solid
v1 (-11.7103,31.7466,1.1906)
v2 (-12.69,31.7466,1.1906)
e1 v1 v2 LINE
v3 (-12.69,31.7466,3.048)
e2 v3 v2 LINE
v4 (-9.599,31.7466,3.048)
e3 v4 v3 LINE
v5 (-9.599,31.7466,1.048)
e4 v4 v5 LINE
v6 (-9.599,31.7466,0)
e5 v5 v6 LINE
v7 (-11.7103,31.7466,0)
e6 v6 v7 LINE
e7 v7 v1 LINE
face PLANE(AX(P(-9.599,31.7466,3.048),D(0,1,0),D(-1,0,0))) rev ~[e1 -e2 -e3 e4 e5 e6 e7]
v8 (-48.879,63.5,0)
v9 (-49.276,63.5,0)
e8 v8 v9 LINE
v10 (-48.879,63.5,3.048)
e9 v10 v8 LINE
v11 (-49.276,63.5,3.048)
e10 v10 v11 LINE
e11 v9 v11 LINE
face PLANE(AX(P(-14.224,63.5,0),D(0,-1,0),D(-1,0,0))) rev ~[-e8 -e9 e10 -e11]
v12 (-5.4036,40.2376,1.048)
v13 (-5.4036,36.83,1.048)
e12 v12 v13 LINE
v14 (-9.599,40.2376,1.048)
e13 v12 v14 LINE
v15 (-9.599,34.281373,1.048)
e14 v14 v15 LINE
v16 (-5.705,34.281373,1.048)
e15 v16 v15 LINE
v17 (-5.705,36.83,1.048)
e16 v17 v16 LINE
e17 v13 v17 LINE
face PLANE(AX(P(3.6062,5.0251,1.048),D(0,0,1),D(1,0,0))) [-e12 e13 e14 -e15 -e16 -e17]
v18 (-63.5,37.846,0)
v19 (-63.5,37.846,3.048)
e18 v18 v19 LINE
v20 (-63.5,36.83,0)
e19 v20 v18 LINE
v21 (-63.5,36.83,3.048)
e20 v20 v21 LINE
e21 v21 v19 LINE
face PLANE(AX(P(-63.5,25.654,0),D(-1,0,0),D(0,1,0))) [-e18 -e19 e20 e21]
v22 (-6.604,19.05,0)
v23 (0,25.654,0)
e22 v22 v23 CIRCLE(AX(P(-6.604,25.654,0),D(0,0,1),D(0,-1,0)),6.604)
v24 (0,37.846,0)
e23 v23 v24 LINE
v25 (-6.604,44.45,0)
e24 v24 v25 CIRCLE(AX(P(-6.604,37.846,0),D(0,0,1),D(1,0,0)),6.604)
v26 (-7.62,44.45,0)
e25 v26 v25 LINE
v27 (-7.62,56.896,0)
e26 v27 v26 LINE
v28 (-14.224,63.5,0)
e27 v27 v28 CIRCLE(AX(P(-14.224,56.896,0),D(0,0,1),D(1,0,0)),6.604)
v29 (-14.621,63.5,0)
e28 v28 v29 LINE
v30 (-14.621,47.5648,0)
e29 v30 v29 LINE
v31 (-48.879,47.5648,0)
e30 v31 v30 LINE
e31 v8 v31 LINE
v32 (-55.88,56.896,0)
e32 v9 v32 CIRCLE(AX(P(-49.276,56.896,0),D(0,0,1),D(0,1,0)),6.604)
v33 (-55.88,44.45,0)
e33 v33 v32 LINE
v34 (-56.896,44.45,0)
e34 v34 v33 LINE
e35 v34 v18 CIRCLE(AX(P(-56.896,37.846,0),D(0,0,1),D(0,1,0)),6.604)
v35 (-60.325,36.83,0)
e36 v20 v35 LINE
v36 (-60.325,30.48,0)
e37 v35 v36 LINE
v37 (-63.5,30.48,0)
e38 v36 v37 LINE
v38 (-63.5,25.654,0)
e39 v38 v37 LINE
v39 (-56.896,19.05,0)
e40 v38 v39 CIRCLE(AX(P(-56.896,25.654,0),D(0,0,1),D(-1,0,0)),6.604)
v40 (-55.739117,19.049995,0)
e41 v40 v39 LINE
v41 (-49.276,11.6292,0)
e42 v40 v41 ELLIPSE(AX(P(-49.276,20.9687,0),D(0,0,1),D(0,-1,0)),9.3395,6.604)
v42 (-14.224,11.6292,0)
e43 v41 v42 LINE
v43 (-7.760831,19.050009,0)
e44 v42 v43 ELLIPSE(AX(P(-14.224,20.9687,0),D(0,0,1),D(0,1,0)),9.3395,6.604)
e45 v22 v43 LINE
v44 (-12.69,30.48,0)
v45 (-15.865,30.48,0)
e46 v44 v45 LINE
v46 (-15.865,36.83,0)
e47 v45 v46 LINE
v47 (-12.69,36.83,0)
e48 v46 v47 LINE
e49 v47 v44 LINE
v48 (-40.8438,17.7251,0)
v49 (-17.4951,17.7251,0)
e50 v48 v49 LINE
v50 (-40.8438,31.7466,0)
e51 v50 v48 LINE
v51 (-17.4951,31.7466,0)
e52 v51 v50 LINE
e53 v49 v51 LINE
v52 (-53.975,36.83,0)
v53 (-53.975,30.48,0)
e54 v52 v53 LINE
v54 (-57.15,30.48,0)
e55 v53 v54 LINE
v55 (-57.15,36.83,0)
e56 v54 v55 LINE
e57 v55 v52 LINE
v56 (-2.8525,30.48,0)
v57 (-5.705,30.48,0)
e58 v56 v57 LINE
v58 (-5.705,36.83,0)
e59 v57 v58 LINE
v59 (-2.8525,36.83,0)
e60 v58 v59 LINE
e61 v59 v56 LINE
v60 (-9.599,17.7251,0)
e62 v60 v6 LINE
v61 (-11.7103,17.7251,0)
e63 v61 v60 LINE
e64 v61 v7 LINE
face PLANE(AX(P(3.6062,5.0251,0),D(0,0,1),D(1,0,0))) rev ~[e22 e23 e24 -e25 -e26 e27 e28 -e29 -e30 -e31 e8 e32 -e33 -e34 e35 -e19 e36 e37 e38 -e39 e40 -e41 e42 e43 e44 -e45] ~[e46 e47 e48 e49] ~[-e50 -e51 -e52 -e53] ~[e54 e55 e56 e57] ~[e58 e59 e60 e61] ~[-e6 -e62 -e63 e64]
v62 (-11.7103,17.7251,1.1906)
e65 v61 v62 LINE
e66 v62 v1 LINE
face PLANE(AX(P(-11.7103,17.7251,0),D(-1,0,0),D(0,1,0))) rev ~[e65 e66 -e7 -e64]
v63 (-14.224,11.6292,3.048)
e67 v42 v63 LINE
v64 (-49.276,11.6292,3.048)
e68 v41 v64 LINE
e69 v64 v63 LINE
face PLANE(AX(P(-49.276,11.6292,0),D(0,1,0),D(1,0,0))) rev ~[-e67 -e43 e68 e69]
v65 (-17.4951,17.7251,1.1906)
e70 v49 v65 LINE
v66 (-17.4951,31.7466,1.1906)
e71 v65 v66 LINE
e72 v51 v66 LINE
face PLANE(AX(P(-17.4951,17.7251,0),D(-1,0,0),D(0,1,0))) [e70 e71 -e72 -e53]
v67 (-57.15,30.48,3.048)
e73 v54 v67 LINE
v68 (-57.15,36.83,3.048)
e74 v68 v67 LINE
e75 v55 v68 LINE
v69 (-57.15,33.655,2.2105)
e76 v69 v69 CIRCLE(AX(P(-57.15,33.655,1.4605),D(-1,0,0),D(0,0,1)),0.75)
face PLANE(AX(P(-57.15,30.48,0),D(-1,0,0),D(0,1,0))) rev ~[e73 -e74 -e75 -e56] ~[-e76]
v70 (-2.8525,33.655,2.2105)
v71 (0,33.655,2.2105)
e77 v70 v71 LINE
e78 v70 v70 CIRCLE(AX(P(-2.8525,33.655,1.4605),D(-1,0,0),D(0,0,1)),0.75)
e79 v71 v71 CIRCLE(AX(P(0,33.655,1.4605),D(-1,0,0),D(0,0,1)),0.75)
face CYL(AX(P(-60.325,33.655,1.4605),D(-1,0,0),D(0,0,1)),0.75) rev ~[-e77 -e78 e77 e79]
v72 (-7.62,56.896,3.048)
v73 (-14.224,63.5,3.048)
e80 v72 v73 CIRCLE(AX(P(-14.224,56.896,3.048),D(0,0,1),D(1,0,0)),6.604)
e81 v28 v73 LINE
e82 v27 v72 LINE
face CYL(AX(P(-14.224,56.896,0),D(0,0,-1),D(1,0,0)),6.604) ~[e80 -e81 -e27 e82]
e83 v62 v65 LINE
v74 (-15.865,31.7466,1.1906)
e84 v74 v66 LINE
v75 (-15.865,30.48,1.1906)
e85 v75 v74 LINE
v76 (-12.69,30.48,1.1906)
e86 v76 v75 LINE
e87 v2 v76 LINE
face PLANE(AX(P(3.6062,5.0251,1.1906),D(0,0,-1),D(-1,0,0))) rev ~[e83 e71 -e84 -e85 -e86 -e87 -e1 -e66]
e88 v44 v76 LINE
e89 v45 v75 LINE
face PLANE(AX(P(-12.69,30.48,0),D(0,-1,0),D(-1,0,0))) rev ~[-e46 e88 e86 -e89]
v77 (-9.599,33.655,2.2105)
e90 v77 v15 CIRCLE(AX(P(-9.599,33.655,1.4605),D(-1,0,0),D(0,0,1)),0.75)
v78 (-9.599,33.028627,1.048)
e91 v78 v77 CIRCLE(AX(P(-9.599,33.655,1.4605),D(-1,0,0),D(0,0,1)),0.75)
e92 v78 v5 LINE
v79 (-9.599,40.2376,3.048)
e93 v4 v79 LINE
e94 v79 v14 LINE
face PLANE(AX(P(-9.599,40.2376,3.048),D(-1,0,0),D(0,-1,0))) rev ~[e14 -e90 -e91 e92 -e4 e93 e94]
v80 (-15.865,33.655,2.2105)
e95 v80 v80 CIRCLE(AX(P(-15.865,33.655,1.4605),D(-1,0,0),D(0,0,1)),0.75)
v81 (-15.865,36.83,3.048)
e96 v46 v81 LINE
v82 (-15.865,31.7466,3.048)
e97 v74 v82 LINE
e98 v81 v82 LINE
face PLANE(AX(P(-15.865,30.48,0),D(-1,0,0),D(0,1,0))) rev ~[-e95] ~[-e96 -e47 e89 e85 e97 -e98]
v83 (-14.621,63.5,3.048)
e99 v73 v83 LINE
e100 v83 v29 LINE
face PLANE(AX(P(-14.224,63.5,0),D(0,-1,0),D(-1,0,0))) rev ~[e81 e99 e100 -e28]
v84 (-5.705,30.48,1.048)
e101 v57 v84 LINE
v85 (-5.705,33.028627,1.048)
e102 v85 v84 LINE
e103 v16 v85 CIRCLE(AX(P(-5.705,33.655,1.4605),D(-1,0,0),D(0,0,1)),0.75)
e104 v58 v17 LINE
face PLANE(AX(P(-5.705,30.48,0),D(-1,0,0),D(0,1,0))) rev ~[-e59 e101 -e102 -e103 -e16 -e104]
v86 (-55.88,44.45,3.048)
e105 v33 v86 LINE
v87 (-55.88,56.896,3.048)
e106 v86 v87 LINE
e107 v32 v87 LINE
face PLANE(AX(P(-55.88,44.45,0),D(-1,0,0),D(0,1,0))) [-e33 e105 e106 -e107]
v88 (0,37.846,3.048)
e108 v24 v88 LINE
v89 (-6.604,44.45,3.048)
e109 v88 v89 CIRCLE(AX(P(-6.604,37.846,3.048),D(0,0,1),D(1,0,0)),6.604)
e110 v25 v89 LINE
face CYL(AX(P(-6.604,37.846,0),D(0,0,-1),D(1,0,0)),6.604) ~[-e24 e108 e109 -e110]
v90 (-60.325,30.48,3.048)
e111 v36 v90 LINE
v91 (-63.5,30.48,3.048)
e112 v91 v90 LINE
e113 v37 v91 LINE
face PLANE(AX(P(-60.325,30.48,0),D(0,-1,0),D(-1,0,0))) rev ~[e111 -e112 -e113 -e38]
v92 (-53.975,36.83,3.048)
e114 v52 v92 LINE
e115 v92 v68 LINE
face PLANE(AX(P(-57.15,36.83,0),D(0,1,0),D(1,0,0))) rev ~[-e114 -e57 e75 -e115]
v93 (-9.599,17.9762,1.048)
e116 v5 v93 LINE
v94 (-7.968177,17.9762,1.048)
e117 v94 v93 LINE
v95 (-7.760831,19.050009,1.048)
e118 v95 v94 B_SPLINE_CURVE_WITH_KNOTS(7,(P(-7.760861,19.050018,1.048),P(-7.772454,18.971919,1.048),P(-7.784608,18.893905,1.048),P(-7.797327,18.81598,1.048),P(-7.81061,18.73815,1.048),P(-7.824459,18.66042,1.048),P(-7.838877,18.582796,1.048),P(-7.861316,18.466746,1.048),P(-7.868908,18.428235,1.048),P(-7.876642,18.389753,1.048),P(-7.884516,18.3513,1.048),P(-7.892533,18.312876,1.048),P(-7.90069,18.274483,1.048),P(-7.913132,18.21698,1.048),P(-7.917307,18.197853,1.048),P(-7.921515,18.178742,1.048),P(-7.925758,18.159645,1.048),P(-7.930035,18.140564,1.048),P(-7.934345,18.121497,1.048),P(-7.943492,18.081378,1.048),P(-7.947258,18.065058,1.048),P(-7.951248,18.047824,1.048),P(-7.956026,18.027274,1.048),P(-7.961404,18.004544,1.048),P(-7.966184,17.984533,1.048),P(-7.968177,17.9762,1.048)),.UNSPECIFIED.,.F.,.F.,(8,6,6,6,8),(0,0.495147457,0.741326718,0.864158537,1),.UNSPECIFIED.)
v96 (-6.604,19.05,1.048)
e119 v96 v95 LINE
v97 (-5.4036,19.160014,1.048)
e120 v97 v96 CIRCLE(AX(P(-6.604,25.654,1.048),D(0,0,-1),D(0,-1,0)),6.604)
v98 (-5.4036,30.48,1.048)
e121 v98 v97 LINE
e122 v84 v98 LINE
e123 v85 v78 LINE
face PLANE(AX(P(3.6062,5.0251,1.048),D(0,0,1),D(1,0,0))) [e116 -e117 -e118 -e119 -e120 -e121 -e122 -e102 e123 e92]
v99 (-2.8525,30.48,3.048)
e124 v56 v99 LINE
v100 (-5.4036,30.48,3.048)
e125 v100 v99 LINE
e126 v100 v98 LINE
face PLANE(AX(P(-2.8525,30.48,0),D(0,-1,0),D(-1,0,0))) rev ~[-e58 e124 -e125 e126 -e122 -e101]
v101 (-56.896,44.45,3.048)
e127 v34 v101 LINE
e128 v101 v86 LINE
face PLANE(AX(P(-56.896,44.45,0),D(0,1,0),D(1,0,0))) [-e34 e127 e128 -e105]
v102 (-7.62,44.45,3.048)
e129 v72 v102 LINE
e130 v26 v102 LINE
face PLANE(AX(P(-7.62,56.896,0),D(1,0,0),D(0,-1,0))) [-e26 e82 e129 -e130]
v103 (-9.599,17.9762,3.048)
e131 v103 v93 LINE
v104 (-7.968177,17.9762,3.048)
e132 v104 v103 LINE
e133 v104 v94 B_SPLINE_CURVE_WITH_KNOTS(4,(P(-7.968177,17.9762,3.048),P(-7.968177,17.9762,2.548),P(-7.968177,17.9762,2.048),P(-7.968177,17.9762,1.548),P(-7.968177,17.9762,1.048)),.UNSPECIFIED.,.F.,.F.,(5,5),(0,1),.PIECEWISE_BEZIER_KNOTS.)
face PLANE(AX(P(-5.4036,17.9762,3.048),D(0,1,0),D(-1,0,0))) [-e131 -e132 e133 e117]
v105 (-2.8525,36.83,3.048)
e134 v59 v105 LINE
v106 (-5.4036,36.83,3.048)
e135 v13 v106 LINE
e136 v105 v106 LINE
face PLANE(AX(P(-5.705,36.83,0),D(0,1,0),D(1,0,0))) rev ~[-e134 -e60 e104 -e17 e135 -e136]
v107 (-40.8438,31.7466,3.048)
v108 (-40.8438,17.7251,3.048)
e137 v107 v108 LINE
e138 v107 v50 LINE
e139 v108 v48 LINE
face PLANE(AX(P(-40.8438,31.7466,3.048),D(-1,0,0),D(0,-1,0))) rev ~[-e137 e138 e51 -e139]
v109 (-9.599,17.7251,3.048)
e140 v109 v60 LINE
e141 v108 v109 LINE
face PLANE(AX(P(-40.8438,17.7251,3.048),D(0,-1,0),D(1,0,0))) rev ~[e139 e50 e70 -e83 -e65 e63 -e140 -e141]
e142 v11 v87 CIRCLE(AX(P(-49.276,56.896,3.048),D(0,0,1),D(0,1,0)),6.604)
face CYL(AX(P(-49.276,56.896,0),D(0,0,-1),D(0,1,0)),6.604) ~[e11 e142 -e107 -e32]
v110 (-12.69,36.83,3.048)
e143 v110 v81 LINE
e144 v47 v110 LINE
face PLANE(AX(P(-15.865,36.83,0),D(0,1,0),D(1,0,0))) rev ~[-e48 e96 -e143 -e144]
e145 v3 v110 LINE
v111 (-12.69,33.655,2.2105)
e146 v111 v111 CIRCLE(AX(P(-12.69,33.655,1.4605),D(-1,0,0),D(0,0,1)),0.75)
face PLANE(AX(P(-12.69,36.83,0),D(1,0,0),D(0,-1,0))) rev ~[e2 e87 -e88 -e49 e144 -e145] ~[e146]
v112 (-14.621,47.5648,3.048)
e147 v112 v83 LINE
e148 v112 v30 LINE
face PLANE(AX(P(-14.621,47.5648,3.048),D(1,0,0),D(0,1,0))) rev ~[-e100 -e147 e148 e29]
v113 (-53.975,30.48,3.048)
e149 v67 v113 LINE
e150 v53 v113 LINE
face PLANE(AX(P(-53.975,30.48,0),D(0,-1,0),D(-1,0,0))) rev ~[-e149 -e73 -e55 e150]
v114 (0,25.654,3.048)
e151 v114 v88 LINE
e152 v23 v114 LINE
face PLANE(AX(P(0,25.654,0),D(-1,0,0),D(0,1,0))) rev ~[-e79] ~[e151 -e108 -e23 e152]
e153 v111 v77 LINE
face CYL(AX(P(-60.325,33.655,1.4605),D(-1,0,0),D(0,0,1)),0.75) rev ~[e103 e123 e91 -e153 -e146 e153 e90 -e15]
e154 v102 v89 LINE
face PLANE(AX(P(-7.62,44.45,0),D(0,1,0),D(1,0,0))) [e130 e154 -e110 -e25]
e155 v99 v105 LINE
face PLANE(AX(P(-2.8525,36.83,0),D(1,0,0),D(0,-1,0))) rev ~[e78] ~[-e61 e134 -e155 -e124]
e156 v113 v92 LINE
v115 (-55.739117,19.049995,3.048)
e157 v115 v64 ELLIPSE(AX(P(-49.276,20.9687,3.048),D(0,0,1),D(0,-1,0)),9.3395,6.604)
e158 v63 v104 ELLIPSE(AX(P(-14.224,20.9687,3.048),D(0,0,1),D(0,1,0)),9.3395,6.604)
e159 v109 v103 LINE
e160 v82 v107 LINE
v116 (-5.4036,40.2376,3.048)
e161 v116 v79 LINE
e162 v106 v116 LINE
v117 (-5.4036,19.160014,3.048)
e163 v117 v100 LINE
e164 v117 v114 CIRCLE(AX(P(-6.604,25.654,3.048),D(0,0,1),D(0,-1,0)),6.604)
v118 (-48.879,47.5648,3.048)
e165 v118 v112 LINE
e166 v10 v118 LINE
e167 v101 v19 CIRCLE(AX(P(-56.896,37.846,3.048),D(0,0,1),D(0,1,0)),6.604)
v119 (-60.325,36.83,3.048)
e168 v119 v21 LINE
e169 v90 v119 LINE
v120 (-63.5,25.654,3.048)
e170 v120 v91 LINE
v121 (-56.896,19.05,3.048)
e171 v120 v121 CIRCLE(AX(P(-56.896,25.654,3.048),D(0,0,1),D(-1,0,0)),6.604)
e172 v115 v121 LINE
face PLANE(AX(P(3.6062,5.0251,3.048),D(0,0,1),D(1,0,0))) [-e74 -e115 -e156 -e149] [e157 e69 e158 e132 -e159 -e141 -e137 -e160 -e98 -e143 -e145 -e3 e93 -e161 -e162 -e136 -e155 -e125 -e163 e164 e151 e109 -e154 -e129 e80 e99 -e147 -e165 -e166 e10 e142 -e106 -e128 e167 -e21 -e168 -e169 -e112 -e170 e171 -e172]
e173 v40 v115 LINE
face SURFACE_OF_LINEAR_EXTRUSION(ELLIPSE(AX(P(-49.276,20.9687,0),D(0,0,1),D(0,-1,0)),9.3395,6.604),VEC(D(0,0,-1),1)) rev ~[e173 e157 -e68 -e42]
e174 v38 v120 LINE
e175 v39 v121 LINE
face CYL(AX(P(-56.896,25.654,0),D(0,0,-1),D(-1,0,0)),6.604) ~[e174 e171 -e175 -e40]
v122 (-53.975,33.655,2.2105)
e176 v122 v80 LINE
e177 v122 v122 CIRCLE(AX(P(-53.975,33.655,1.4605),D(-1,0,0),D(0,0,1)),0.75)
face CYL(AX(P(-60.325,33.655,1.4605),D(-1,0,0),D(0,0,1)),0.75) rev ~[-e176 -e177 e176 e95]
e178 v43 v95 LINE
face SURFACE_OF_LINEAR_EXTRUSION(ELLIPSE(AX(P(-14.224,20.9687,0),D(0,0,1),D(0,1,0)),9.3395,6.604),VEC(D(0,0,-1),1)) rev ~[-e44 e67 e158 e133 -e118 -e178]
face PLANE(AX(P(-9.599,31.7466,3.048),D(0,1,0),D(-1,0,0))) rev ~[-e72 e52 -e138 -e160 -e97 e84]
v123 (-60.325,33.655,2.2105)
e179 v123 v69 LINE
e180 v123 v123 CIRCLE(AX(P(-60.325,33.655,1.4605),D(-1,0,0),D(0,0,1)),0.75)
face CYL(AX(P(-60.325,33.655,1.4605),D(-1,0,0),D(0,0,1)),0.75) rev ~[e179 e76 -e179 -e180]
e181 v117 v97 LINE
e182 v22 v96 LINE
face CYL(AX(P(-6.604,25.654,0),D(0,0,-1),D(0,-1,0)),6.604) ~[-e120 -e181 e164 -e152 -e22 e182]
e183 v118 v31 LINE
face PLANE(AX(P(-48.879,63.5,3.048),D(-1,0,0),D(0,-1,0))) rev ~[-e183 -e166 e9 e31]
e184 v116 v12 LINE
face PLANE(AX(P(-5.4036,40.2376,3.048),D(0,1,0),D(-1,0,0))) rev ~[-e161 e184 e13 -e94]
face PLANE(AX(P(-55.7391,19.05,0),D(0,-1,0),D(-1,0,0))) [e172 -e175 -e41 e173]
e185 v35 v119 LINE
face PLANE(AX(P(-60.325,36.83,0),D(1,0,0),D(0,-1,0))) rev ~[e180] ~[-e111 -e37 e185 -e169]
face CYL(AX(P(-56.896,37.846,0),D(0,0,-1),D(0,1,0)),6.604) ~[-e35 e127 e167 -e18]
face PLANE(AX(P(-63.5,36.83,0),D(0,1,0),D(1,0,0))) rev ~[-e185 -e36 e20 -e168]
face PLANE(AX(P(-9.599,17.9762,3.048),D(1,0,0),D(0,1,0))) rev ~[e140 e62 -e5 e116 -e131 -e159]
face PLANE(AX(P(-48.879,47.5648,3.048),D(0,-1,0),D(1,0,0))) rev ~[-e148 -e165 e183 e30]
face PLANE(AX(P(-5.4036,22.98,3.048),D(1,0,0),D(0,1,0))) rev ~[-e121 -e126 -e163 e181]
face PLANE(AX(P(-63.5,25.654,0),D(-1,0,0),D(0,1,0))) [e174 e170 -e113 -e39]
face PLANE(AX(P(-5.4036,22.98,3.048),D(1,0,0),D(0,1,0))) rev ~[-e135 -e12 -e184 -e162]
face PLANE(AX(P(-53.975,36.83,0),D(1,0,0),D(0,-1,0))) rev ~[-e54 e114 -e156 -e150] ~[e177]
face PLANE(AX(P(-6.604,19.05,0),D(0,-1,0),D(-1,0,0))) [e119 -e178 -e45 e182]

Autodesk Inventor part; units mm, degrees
ref_plane "YZ Plane" through (0, 0, 0) normal (1, 0, 0) x (0, 1, 0)
ref_plane "XZ Plane" through (0, 0, 0) normal (0, 1, 0) x (-1, 0, 0)
ref_plane "XY Plane" through (0, 0, 0) normal (0, 0, 1) x (1, 0, 0)
ref_plane "Work Plane1" through (3.6062, 5.0251, 0) normal (0, 0, 1) x (1, 0, 0)
sketch "Sketch1" plane through (3.6062, 5.0251, 0) normal (0, 0, 1) x (1, 0, 0)
  line L0 (-59.3453, 14.0249) -> (-60.5022, 14.0249)
  ellipse E0 centre (-52.8822, 15.9436) end of major axis (-52.8822, 6.6041) minor radius 6.604 (-59.3453, 14.0249) -> (-52.8822, 6.6041) ccw
  line L1 (-52.8822, 6.6041) -> (-17.8302, 6.6041)
  ellipse E1 centre (-17.8302, 15.9436) end of major axis (-17.8302, 25.2831) minor radius 6.604 (-17.8302, 6.6041) -> (-11.367, 14.0249) ccw
  line L2 (-10.2102, 14.0249) -> (-11.367, 14.0249)
  arc A0 (-10.2102, 14.0249) -> (-3.6062, 20.6289) centre (-10.2102, 20.6289) ccw
  line L3 (-3.6062, 20.6289) -> (-3.6062, 32.8209)
  arc A1 (-3.6062, 32.8209) -> (-10.2102, 39.4249) centre (-10.2102, 32.8209) ccw
  line L4 (-11.2262, 39.4249) -> (-10.2102, 39.4249)
  line L5 (-11.2262, 51.8709) -> (-11.2262, 39.4249)
  arc A2 (-11.2262, 51.8709) -> (-17.8302, 58.4749) centre (-17.8302, 51.8709) ccw
  line L6 (-17.8302, 58.4749) -> (-52.8822, 58.4749)
  arc A3 (-52.8822, 58.4749) -> (-59.4862, 51.8709) centre (-52.8822, 51.8709) ccw
  line L7 (-59.4862, 39.4249) -> (-59.4862, 51.8709)
  line L8 (-60.5022, 39.4249) -> (-59.4862, 39.4249)
  arc A4 (-60.5022, 39.4249) -> (-67.1062, 32.8209) centre (-60.5022, 32.8209) ccw
  line L9 (-67.1062, 20.6289) -> (-67.1062, 32.8209)
  arc A5 (-67.1062, 20.6289) -> (-60.5022, 14.0249) centre (-60.5022, 20.6289) ccw
  line L10 (-52.8822, 6.6041) -> (-17.8302, 6.6041)
  point P0 (-3.6062, -5.0251)
extrude "Plate1" add sketch "Sketch1" along normal blind 3.048
sketch "Sketch2" plane through (3.6062, 5.0251, 3.048) normal (0, 0, 1) x (1, 0, 0)
  line L0 (-19.2272, 69.2699) -> (-19.2272, 51.2359) projected
  line L1 (-42.2142, 43.5397) -> (-28.4982, 43.5397) projected
  line L2 (-51.4852, 51.2359) -> (-51.4852, 69.2699) projected
  line L3 (-19.2272, 58.5208) -> (-19.2272, 43.5397)
  line L4 (-19.2272, 43.5397) -> (-51.4852, 43.5397)
  line L5 (-51.4852, 43.5397) -> (-51.4852, 64.3147)
  line L6 (-52.4852, 58.4749) -> (-52.4852, 42.5397)
  line L7 (-52.4852, 42.5397) -> (-18.2272, 42.5397)
  line L8 (-18.2272, 42.5397) -> (-18.2272, 58.5208)
  line L9 (-52.8822, 58.4749) -> (-17.8302, 58.4749) projected
  point P0 (0, 0)
  point P1 (-18.2272, 58.4749)
  dimension "d2" = 1
extrude "Extrusion2" cut sketch "Sketch2" against normal through all
sketch "Sketch4" plane through (3.6062, 5.0251, 3.048) normal (0, 0, 1) x (1, 0, 0)
  line L0 (-12.8862, 21.4549) -> (-12.8862, 17.4549) projected
  line L1 (-9.0098, 35.2125) -> (-13.2052, 35.2125)
  line L2 (-13.2052, 35.2125) -> (-13.2052, 18.2304)
  line L3 (-13.2052, 18.2304) -> (-12.8862, 18.2304)
  line L4 (-9.0098, 16.8588) -> (-9.0098, 35.2125)
  line L5 (-9.0098, 35.2125) -> (-13.2052, 18.2304) construction
  line L6 (-13.2052, 35.2125) -> (-9.0098, 16.8588) construction
  line L7 (-12.8862, 21.4549) -> (-12.8862, 17.4549) projected
  line L8 (-3.6062, 30.2174) -> (-8.2582, 30.2174)
  line L9 (-12.8862, 17.9549) -> (-3.6562, 17.9549)
  line L10 (-12.8862, 21.4549) -> (-12.8862, 17.4549) projected
  line L11 (-13.2052, 18.2304) -> (-12.8862, 18.2304)
  line L12 (-9.0098, 16.8588) -> (-9.0098, 12.9511)
  line L13 (-9.0098, 12.9511) -> (-13.2052, 12.9511)
  line L14 (-13.2052, 12.9511) -> (-13.2052, 18.2304)
  point P0 (-3.6062, -5.0251)
  point P1 (-11.1889, 26.3919)
  point P2 (-11.1075, 26.7215)
  dimension "d18" = 4.1954
  dimension "d23" = 4.9951
  dimension "d24" = 0.3191
  dimension "d25" = 5.0038
extrude "Extrusion3" cut sketch "Sketch4" against normal blind 2
sketch "Sketch5" plane through (3.6062, 5.0251, 3.048) normal (0, 0, 1) x (1, 0, 0)
  line L0 (-52.4852, 42.5397) -> (-52.4852, 58.4749) projected
  line L1 (-52.8822, 58.4749) -> (-52.4852, 58.4749) projected
  arc A0 (-52.8822, 58.4749) -> (-59.4862, 51.8709) centre (-52.8822, 51.8709) ccw projected
  line L2 (-59.4862, 39.4249) -> (-59.4862, 51.8709) projected
  line L3 (-60.5022, 39.4249) -> (-59.4862, 39.4249) projected
  arc A1 (-60.5022, 39.4249) -> (-67.1062, 32.8209) centre (-60.5022, 32.8209) ccw projected
  line L4 (-67.1062, 20.6289) -> (-67.1062, 32.8209) projected
  arc A2 (-67.1062, 20.6289) -> (-60.5022, 14.0249) centre (-60.5022, 20.6289) ccw projected
  line L5 (-59.3453, 14.0249) -> (-60.5022, 14.0249) projected
  ellipse E0 centre (-52.8822, 15.9436) end of major axis (-52.8822, 6.6041) minor radius 6.604 (-59.3453, 14.0249) -> (-52.8822, 6.6041) ccw projected
  line L6 (-17.8302, 6.6041) -> (-52.8822, 6.6041) projected
  ellipse E1 centre (-17.8302, 15.9436) end of major axis (-17.8302, 25.2831) minor radius 6.604 (-17.8302, 6.6041) -> (-11.5743, 12.9511) ccw projected
  arc A3 (-9.0098, 14.1349) -> (-3.6062, 20.6289) centre (-10.2102, 20.6289) ccw projected
  line L7 (-3.6062, 32.8209) -> (-3.6062, 20.6289) projected
  arc A4 (-3.6062, 32.8209) -> (-10.2102, 39.4249) centre (-10.2102, 32.8209) ccw projected
  line L8 (-11.2262, 39.4249) -> (-10.2102, 39.4249) projected
  line L9 (-11.2262, 51.8709) -> (-11.2262, 39.4249) projected
  arc A5 (-11.2262, 51.8709) -> (-17.8302, 58.4749) centre (-17.8302, 51.8709) ccw projected
  line L10 (-18.2272, 58.4749) -> (-17.8302, 58.4749) projected
  line L11 (-18.2272, 58.4749) -> (-18.2272, 42.5397) projected
  line L12 (-18.2272, 42.5397) -> (-52.4852, 42.5397) projected
  line L13 (-13.2052, 12.9511) -> (-13.2052, 35.2125) projected
  line L14 (-44.45, 12.7) -> (-13.2052, 12.7)
  line L15 (-13.2052, 12.7) -> (-13.2052, 26.7215)
  line L16 (-13.2052, 26.7215) -> (-44.45, 26.7215)
  line L17 (-44.45, 26.7215) -> (-44.45, 12.7)
  line L18 (-11.5743, 12.9511) -> (-13.2052, 12.9511) projected
  line L19 (-13.2052, 12.9511) -> (-13.2052, 35.2125) projected
  line L20 (-13.2052, 35.2125) -> (-9.0098, 35.2125) projected
  line L21 (-9.0098, 35.2125) -> (-9.0098, 14.1349) projected
  point P0 (-3.6062, -5.0251)
  point P1 (-13.2052, 18.2304)
  point P2 (-41.0062, 13.5399)
  point P3 (-60.0729, 27.6299)
  dimension "d19" = 14.0215
  dimension "d20" = 31.2448
extrude "Extrusion4" cut sketch "Sketch5" against normal blind 58.7375 contours L13 L15 L14 L17 L16
sketch "Sketch6" plane through (3.6062, 5.0251, 0) normal (0, 0, -1) x (-1, 0, 0)
  line L0 (13.2052, 12.7) -> (44.45, 12.7) projected
  line L1 (13.2052, 26.7215) -> (44.45, 26.7215) projected
  line L2 (44.45, 12.7) -> (13.2052, 12.7) projected
  line L3 (21.1013, 12.7) -> (21.1013, 26.7215)
  line L4 (15.3165, 12.7) -> (15.3165, 26.7215)
  point P0 (3.6062, -5.0251)
extrude "Extrusion5" add sketch "Sketch6" against normal blind 1.1906
sketch "Sketch7" plane through (3.6062, 5.0251, 0) normal (0, 0, -1) x (-1, 0, 0)
  line L0 (67.1062, 25.4549) -> (67.1062, 31.8049) projected
  line L1 (67.1062, 31.8049) -> (63.9312, 31.8049) projected
  line L2 (63.9312, 31.8049) -> (63.9312, 25.4549) projected
  line L3 (63.9312, 25.4549) -> (67.1062, 25.4549) projected
  line L4 (57.5812, 31.8049) -> (57.5812, 25.4549) projected
  line L5 (57.5812, 25.4549) -> (60.7562, 25.4549) projected
  line L6 (60.7562, 25.4549) -> (60.7562, 31.8049) projected
  line L7 (60.7562, 31.8049) -> (57.5812, 31.8049) projected
  line L8 (6.4587, 31.8049) -> (6.4587, 25.4549) projected
  line L9 (6.4587, 25.4549) -> (9.3112, 25.4549) projected
  line L10 (9.3112, 25.4549) -> (9.3112, 31.8049) projected
  line L11 (9.3112, 31.8049) -> (6.4587, 31.8049) projected
  line L12 (19.4712, 25.4549) -> (19.4712, 31.8049) projected
  line L13 (19.4712, 31.8049) -> (16.2962, 31.8049) projected
  line L14 (16.2962, 31.8049) -> (16.2962, 25.4549) projected
  line L15 (16.2962, 25.4549) -> (19.4712, 25.4549) projected
  point P0 (3.6062, -5.0251)
extrude "Extrusion6" cut sketch "Sketch7" against normal blind 3.175
sketch "Sketch8" plane through (-60.325, 30.48, 0) normal (-1, 0, 0) x (0, 0, 1)
  circle A0 centre (1.4605, 3.175) radius 0.75 projected
  point P0 (0, -30.48)
extrude "Extrusion7" cut sketch "Sketch8" against normal through all
equation "\"d5\" = Thickness"
equation "\"BendRadius\" = Thickness"
equation "\"BendReliefWidth\" = Thickness"
equation "\"BendReliefDepth\" = 0.5 * Thickness"
equation "\"CornerReliefSize\" = 4 * Thickness"
equation "\"MinimumRemnant\" = 2 * Thickness"
equation "\"TransitionRadius\" = BendRadius"
equation "\"JacobiRadiusSize\" = Thickness"
equation "\"GapSize\" = Thickness"
equation "\"Thickness\" = 3.048"
properties part number "_3DPrint"
